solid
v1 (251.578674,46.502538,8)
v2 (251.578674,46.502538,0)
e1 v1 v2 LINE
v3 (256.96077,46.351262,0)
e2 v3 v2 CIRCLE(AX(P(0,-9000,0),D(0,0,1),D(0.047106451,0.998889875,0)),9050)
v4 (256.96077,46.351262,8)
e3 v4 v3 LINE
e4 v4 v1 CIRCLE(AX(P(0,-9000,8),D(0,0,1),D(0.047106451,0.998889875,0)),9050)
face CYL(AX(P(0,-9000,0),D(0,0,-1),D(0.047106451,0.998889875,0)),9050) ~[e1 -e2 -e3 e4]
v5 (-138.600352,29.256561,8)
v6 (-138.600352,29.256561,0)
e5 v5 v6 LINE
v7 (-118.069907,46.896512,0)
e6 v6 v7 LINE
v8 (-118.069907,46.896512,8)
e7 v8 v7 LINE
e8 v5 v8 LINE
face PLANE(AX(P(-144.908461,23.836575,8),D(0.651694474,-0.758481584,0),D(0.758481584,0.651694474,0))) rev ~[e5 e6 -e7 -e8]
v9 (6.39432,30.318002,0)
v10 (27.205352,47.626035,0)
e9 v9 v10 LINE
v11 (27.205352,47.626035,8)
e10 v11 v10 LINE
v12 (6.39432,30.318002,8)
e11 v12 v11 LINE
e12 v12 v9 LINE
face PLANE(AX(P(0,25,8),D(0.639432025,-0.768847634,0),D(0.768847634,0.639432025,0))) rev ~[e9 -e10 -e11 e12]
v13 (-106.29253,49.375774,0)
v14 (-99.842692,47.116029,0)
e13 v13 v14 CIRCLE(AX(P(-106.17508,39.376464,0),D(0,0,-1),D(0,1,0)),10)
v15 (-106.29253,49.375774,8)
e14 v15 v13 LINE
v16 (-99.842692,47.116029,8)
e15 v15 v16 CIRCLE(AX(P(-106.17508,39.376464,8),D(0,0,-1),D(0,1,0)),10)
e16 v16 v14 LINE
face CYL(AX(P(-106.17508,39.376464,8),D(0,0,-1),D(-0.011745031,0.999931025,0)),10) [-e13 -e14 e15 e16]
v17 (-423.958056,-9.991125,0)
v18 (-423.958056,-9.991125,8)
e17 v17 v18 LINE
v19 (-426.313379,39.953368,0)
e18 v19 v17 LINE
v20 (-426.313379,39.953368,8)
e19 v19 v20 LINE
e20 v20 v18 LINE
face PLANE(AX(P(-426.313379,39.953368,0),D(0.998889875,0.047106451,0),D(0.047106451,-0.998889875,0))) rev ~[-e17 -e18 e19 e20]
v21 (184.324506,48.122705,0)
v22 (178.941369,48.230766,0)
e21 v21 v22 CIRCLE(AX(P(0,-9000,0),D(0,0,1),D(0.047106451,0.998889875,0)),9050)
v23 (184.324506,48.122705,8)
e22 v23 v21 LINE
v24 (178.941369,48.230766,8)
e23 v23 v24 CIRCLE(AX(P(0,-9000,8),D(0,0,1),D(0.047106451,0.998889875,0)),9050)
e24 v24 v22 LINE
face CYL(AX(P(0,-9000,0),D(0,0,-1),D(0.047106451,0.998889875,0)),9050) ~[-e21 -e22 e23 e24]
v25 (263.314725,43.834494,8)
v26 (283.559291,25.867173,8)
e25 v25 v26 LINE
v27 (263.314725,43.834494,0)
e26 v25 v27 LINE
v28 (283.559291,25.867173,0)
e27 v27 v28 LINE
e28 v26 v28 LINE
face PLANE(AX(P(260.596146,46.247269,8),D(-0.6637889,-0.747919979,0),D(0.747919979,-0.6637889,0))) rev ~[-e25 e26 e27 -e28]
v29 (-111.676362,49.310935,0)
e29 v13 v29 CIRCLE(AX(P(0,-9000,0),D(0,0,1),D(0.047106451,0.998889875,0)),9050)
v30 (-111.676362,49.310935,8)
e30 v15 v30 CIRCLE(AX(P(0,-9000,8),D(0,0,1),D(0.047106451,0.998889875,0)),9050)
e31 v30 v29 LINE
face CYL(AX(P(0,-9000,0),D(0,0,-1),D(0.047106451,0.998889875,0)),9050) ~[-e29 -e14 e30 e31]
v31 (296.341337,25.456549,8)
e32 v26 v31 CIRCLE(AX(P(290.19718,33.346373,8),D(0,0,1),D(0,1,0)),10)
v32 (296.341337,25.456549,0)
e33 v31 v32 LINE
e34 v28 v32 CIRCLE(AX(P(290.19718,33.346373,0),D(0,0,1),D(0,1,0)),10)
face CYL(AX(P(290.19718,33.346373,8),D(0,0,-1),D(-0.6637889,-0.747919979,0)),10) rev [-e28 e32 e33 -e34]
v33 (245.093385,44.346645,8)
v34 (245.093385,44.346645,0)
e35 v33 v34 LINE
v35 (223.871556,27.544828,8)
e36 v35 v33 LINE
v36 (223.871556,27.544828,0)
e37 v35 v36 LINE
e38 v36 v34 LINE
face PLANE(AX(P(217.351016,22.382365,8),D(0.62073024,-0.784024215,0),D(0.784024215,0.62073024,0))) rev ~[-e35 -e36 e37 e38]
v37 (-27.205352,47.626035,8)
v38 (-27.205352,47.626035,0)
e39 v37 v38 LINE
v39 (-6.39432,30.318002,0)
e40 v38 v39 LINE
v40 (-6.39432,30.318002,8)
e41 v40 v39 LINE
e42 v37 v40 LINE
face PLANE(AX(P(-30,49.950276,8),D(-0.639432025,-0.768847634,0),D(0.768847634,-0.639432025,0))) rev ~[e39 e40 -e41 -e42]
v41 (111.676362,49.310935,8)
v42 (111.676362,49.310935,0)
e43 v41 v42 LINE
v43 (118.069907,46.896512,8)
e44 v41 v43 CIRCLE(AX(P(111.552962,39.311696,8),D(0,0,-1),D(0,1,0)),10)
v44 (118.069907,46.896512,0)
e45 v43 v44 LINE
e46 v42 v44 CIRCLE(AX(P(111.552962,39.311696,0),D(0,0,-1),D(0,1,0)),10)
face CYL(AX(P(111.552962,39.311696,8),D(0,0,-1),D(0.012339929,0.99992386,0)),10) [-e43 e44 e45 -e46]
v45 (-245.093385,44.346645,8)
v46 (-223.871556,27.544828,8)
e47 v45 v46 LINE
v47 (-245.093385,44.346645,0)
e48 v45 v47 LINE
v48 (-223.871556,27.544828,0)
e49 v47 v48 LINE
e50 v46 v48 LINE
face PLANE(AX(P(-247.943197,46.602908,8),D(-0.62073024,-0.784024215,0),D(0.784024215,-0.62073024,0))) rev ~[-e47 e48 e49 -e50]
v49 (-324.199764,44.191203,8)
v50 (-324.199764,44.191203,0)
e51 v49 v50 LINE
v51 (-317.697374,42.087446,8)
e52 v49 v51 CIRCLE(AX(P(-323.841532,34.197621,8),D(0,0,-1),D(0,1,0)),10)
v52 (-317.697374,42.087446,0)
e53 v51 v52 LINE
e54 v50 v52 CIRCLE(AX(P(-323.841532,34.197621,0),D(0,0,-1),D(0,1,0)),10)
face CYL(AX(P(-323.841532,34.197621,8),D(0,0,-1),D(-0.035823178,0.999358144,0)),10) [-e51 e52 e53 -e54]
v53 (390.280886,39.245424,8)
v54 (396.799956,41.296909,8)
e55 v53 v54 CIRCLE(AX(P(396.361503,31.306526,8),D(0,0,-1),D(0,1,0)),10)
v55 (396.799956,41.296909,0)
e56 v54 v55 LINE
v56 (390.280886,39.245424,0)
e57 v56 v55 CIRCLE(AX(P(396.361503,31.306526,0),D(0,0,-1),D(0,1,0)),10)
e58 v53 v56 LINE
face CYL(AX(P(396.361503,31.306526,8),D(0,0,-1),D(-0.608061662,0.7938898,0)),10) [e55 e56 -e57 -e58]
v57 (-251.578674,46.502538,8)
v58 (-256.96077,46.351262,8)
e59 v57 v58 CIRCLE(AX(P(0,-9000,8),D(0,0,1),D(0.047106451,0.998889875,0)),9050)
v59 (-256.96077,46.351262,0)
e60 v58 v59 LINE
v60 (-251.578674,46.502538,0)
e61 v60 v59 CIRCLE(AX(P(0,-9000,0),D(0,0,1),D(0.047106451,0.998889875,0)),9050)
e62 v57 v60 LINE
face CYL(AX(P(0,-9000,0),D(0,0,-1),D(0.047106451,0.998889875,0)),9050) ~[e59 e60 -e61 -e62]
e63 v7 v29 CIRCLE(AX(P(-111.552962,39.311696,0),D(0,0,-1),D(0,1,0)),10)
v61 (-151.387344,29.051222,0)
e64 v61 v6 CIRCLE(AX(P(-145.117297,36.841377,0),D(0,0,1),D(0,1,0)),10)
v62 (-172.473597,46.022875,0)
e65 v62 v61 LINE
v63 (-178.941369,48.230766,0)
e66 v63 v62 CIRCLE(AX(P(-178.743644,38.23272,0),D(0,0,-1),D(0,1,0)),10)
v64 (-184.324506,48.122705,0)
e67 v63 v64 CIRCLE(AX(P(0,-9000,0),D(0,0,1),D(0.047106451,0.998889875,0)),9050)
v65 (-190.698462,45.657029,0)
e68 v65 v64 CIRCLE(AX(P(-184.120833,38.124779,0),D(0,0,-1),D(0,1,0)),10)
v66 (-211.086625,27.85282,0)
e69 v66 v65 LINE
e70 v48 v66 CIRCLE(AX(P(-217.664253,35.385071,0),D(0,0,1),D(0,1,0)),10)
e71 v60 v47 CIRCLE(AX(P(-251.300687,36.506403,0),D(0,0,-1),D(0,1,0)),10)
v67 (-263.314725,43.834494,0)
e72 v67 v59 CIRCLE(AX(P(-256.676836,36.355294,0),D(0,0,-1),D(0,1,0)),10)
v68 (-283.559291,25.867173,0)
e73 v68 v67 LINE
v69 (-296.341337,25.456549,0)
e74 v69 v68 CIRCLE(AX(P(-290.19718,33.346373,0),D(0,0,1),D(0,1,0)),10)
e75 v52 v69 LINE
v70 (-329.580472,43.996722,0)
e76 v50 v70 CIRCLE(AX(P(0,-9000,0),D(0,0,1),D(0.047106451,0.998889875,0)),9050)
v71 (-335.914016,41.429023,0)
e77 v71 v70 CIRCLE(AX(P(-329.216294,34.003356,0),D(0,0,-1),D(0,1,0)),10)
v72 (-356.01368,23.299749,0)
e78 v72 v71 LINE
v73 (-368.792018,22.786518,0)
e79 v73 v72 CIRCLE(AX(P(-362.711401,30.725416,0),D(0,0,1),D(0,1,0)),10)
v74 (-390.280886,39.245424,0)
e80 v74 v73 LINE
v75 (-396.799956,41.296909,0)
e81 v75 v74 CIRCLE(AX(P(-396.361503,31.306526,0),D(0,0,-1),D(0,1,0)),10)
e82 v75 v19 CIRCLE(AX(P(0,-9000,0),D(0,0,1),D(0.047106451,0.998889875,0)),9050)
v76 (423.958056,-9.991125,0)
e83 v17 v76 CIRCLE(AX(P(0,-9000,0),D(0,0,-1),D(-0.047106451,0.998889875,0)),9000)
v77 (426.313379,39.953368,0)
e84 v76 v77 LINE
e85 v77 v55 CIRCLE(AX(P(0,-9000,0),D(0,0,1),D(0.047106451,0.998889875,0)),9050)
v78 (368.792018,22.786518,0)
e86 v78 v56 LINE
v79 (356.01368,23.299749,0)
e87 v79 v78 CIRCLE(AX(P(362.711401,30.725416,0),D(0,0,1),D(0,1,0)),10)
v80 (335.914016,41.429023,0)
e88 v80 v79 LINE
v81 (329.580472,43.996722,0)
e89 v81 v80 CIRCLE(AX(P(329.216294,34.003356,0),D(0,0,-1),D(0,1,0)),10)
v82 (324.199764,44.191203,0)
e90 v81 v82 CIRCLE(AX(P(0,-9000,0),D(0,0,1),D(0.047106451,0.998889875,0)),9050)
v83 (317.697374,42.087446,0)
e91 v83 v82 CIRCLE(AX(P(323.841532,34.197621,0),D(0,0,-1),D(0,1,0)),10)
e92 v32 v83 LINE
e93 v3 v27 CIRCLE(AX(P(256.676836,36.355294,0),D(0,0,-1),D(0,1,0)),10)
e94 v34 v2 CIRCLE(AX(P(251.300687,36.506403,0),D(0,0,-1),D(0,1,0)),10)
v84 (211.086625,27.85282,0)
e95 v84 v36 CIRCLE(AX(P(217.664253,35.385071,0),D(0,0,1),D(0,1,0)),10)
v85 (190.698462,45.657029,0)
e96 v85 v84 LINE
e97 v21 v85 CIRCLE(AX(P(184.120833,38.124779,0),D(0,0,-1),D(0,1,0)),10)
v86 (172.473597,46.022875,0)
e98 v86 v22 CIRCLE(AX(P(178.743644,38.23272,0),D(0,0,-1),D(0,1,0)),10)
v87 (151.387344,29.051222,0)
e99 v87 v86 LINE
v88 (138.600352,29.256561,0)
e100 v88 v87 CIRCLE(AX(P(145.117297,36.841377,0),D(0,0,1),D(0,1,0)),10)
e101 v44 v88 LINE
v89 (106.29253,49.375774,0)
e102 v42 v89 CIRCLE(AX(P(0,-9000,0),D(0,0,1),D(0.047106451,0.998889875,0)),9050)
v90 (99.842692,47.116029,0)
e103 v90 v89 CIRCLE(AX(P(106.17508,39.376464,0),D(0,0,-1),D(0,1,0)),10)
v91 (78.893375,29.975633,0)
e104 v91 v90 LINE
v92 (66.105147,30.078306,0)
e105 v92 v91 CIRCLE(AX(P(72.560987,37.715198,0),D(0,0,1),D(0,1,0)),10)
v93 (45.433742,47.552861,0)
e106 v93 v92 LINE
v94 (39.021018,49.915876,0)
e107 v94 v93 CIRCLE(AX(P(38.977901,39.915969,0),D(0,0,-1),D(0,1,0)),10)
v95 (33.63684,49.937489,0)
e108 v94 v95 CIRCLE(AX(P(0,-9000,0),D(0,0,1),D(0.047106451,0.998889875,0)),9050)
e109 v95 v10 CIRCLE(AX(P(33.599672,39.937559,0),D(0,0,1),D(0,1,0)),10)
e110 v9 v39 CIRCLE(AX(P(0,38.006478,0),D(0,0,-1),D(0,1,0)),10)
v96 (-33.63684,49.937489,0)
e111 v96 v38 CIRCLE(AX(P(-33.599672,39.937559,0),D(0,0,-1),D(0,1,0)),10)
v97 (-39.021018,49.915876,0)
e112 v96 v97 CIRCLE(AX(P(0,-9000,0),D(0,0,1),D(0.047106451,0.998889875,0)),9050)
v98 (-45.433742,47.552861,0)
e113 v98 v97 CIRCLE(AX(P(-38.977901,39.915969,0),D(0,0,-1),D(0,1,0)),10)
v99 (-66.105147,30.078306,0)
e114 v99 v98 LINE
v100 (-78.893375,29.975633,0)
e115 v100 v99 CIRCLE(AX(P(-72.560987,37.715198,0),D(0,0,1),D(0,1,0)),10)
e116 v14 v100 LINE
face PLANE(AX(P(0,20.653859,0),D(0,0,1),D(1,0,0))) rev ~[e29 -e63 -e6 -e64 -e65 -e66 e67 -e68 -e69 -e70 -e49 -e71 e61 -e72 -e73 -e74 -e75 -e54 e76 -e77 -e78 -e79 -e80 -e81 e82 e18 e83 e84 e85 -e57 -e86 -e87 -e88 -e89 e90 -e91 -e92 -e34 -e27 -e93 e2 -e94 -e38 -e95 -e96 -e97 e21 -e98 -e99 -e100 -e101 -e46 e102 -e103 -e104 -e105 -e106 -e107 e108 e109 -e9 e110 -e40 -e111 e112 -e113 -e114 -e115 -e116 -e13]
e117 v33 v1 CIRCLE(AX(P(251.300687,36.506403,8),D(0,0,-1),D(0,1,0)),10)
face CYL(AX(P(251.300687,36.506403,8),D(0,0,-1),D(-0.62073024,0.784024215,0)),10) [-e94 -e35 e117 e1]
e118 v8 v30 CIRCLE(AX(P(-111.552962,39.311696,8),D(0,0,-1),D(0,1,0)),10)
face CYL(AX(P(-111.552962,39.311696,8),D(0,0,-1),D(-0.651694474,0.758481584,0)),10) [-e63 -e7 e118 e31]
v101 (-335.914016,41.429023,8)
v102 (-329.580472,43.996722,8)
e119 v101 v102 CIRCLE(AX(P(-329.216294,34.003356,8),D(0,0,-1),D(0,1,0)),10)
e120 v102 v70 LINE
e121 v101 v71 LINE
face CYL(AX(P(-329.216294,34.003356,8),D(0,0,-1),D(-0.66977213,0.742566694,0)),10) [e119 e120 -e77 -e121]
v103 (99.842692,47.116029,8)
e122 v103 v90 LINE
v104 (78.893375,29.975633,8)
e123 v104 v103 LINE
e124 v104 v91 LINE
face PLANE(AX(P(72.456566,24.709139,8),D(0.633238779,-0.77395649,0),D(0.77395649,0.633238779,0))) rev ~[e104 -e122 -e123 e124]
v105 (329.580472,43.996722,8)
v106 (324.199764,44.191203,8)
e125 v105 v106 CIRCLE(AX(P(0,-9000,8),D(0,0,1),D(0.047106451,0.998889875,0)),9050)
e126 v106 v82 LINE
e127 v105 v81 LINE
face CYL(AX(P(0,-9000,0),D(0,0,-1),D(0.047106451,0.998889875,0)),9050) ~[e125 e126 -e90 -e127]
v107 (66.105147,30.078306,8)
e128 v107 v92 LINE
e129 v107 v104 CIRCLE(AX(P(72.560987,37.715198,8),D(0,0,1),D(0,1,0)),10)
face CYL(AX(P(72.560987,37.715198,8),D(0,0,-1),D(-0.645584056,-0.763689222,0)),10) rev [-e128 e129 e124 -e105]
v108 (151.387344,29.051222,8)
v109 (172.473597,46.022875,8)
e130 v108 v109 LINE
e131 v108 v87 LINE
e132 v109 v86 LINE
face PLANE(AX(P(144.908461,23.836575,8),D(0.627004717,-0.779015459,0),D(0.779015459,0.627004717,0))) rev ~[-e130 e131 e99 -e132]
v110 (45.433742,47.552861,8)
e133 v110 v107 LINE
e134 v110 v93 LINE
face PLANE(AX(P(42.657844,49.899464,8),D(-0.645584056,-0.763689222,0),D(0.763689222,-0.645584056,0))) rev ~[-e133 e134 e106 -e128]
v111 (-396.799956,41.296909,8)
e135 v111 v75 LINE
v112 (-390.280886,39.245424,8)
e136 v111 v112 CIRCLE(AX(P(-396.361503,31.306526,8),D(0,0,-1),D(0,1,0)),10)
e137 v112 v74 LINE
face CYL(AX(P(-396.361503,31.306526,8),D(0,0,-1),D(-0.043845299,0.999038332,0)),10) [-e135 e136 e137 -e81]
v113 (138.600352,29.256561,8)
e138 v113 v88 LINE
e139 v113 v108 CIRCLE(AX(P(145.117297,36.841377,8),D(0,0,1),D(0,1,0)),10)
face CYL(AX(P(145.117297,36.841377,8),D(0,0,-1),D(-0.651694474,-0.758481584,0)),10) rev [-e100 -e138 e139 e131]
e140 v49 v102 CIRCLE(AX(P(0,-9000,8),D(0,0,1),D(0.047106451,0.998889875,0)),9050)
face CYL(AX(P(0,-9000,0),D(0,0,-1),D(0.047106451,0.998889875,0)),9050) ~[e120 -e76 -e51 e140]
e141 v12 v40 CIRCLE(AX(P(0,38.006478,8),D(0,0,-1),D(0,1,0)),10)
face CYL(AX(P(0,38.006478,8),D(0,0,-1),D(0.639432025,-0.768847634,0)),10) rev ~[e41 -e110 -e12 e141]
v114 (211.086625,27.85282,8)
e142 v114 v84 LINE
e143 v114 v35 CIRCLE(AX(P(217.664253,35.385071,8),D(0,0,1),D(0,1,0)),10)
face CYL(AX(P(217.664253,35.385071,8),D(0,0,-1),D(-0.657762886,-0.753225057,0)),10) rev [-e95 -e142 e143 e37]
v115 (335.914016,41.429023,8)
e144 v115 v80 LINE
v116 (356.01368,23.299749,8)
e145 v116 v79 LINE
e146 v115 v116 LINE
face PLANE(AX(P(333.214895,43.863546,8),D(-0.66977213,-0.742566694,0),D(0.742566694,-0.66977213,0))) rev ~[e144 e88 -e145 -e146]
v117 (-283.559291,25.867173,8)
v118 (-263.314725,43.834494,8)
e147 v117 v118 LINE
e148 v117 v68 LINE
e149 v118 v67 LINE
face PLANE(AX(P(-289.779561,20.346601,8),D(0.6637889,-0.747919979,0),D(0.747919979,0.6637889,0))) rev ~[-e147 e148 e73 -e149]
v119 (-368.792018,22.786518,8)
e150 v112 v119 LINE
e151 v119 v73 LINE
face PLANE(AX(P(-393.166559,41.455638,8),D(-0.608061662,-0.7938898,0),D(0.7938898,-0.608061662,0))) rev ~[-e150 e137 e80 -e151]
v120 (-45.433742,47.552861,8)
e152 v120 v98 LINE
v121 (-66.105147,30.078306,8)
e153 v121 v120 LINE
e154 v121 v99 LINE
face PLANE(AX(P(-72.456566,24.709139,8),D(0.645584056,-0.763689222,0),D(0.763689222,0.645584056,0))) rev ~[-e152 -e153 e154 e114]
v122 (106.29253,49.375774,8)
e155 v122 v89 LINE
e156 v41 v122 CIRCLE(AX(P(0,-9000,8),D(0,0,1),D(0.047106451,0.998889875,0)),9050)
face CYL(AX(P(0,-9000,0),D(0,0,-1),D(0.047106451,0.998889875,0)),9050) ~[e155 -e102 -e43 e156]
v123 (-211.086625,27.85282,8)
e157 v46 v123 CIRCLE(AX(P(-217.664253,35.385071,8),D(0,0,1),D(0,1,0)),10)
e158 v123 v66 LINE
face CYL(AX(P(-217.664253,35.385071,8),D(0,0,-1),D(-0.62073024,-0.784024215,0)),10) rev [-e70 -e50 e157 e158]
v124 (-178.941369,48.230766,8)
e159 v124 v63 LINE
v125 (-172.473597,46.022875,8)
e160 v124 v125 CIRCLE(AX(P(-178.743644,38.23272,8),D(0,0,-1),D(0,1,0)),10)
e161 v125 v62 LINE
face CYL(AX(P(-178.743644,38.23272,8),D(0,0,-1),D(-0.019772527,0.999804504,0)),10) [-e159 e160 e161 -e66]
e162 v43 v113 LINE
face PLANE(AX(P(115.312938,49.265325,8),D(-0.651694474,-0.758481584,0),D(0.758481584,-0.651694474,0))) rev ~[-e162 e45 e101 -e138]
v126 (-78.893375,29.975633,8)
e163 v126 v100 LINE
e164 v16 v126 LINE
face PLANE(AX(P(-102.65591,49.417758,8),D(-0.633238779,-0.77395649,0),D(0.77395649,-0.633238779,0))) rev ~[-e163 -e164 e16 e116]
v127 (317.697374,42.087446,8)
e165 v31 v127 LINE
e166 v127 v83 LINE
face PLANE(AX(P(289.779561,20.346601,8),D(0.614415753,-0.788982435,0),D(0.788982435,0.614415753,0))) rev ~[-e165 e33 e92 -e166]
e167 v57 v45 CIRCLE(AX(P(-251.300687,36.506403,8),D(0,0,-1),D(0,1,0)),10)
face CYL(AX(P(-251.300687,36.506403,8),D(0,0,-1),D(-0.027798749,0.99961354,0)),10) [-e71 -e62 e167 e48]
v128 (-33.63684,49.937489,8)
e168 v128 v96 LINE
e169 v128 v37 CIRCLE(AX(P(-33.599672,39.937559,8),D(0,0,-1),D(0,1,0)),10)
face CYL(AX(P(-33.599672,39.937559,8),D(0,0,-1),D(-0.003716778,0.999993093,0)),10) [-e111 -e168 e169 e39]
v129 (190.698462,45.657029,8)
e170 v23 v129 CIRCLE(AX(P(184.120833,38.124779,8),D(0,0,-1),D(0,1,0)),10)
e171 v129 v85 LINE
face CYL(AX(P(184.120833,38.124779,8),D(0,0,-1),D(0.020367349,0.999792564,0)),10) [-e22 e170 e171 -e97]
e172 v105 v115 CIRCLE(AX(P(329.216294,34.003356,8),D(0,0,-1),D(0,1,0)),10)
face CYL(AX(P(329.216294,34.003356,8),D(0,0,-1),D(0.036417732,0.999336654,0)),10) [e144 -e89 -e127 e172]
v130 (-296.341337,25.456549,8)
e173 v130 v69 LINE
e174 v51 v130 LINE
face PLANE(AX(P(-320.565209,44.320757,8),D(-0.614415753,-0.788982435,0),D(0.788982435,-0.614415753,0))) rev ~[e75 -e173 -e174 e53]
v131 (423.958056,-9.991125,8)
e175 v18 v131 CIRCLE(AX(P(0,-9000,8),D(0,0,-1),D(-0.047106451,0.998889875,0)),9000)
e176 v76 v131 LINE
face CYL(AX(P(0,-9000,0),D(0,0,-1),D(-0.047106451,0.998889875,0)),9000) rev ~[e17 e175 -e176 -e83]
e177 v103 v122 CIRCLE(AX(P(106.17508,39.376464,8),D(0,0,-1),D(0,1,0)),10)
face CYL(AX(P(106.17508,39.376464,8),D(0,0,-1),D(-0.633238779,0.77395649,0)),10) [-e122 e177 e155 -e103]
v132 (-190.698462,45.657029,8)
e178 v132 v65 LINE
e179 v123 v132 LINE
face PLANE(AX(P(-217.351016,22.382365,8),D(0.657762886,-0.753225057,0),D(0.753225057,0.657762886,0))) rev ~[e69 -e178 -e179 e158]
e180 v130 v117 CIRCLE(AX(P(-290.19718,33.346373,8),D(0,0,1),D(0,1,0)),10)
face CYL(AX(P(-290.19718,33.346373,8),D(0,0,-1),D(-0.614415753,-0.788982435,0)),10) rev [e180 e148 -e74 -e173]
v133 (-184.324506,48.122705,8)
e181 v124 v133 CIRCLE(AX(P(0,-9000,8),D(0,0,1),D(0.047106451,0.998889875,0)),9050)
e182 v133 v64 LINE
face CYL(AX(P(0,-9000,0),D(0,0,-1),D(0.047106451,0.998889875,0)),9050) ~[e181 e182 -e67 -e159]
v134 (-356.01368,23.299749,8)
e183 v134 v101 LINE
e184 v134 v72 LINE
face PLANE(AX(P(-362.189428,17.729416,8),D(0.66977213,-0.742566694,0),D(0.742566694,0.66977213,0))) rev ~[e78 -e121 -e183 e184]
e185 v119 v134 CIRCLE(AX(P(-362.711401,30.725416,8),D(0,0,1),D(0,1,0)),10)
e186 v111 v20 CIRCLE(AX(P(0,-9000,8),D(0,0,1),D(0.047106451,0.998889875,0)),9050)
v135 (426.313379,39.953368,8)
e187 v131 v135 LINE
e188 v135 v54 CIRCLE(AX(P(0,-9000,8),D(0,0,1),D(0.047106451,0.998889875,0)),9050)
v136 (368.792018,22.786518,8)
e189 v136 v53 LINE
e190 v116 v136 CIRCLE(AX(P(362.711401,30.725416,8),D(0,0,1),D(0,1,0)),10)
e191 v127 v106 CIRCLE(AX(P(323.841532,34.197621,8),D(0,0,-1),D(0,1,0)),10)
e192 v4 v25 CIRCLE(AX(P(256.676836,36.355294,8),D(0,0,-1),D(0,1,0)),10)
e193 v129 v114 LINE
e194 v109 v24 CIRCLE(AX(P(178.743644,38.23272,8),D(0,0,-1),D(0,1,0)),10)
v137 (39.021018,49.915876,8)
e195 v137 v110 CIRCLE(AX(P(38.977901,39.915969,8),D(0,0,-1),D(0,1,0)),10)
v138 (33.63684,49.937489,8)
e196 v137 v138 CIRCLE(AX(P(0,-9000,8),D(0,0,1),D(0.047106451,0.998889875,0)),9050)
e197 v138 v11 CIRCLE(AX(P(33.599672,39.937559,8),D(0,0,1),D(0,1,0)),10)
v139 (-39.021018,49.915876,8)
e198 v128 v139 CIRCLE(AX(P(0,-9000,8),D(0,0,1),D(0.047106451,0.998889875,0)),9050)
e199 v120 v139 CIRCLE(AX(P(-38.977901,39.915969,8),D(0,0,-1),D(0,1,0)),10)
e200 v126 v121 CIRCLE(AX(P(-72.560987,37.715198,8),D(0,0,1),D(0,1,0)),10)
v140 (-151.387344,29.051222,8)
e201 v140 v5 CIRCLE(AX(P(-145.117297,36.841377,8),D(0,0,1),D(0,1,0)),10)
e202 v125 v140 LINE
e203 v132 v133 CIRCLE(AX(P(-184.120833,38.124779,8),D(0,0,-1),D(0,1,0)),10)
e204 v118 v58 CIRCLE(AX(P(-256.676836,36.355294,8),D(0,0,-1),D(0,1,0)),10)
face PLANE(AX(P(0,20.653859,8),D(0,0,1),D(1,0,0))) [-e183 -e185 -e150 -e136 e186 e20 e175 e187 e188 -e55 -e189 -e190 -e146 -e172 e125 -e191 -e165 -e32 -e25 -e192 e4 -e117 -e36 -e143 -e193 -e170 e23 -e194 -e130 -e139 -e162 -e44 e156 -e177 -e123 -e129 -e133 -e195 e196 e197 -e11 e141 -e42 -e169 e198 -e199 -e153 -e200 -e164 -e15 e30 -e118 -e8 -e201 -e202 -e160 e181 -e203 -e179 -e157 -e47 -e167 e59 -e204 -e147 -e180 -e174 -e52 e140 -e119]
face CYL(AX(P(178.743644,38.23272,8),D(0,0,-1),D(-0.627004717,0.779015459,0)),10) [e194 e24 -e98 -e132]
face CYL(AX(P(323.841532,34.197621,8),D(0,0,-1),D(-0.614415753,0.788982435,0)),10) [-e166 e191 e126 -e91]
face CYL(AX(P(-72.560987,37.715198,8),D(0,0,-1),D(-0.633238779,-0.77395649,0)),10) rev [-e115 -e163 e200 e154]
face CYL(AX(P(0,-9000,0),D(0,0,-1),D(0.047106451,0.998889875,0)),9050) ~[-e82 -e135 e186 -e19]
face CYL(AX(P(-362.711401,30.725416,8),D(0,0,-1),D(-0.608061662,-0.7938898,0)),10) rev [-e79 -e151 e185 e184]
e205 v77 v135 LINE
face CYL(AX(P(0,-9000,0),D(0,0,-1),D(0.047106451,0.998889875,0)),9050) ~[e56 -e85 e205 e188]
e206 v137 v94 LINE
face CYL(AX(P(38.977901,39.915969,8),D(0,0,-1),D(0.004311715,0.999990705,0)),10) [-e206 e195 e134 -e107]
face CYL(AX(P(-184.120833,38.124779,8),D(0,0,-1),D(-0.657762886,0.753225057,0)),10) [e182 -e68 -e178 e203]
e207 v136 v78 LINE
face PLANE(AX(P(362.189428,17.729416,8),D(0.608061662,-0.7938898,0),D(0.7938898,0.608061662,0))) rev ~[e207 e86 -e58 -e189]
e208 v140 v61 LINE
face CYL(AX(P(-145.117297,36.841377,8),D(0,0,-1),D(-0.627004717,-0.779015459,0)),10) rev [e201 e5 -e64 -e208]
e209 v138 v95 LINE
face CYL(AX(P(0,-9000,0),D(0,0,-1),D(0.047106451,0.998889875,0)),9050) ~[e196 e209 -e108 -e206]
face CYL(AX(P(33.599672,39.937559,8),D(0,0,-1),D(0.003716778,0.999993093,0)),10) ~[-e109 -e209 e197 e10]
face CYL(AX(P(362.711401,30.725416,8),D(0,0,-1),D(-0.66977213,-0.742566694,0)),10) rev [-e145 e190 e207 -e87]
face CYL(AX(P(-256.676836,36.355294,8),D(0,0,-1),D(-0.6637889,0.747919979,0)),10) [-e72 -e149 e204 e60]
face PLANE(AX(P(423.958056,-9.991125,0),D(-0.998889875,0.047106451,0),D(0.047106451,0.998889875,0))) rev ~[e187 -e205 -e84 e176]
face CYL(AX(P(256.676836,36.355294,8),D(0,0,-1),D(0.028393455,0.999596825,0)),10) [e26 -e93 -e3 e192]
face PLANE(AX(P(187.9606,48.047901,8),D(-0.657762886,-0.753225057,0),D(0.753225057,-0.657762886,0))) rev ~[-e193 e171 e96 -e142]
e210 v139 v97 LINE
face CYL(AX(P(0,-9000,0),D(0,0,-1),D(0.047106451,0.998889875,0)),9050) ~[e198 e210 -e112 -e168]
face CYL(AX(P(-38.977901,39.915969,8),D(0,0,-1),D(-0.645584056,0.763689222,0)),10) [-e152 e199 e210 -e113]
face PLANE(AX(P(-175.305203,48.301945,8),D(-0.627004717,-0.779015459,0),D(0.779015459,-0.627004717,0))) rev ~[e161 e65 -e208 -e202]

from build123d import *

# Parameters (mm, degrees)
BOSS_EXTRU_2_DEPTH                 = 8
ENL_V_MAT_EXTRU_1_DEPTH            = 9
CONG_1_R                           = 10
R_P_TITION_CIRCULAIRE1_COUNT       = 6
R_P_TITION_CIRCULAIRE1_ANGLE       = 2.3
CONG_1_OF_R_P_TITION_CIRCULAIRE1_R = 10
R_P_TITION_CIRCULAIRE2_COUNT       = 6
R_P_TITION_CIRCULAIRE2_ANGLE       = 2.3
CONG_1_OF_R_P_TITION_CIRCULAIRE2_R = 10


with BuildPart() as part:
    # Esquisse1 → Boss.-Extru.2 (new body)
    with BuildSketch(Plane.XY):
        with BuildLine():
            Line((423.958056387, -9.991125342), (426.313378922, 39.953368406))
            ThreePointArc((426.313378922, 39.953368406), (0, 50), (-426.313378922, 39.953368406))
            Line((-426.313378922, 39.953368406), (-423.958056387, -9.991125342))
            ThreePointArc((-423.958056387, -9.991125342), (0, 0), (423.958056387, -9.991125342))
        make_face()
    extrude(amount=BOSS_EXTRU_2_DEPTH)

    # Esquisse2 → Enlèv. mat.-Extru.1 (cut, through all)
    with BuildSketch(Plane.XY.offset(8)):
        Polygon((0, 25), (30, 49.950276106), (0, 74.995327729), (-30, 49.950276106), align=None)
    enl_v_mat_extru_1 = extrude(amount=-ENL_V_MAT_EXTRU_1_DEPTH, mode=Mode.SUBTRACT)

    # Congé1
    cong_1_edges = [part.edges().sort_by_distance(p)[0] for p in [
        (0, 25, 4),
        (-30, 49.950276106, 4),
        (30, 49.950276106, 4),
    ]]
    fillet(cong_1_edges, radius=CONG_1_R)

    # Répétition circulaire1: Enlèv. mat.-Extru.1 ×6 about axis
    r_p_tition_circulaire1_axis = Axis((0, -9000, 0), (0, 0, 1))
    for i in range(1, R_P_TITION_CIRCULAIRE1_COUNT):
        add(enl_v_mat_extru_1.rotate(r_p_tition_circulaire1_axis, i * R_P_TITION_CIRCULAIRE1_ANGLE / (R_P_TITION_CIRCULAIRE1_COUNT - 1)), mode=Mode.SUBTRACT)

    # Congé1 of Répétition circulaire1
    cong_1_of_r_p_tition_circulaire1_edges = [part.edges().sort_by_distance(p)[0] for p in [
        (-72.456565501, 24.709139142, 4),
        (-102.655910154, 49.417758293, 4),
        (-42.657843855, 49.899463992, 4),
        (-144.908460692, 23.836575317, 4),
        (-175.305203447, 48.301944876, 4),
        (-115.312938126, 49.265325224, 4),
        (-217.351015561, 22.382364766, 4),
        (-247.943197144, 46.602907776, 4),
        (-187.960599706, 48.047900678, 4),
        (-289.779560701, 20.346601223, 4),
        (-320.565209242, 44.320756509, 4),
        (-260.596145965, 46.247268824, 4),
        (-362.189427606, 17.729415908, 4),
        (-393.166558764, 41.455638174, 4),
        (-333.214895057, 43.863545726, 4),
    ]]
    fillet(cong_1_of_r_p_tition_circulaire1_edges, radius=CONG_1_OF_R_P_TITION_CIRCULAIRE1_R)

    # Répétition circulaire2: Enlèv. mat.-Extru.1 ×6 about axis
    r_p_tition_circulaire2_axis = Axis((0, -9000, 0), (0, 0, -1))
    for i in range(1, R_P_TITION_CIRCULAIRE2_COUNT):
        add(enl_v_mat_extru_1.rotate(r_p_tition_circulaire2_axis, i * R_P_TITION_CIRCULAIRE2_ANGLE / (R_P_TITION_CIRCULAIRE2_COUNT - 1)), mode=Mode.SUBTRACT)

    # Congé1 of Répétition circulaire2
    cong_1_of_r_p_tition_circulaire2_edges = [part.edges().sort_by_distance(p)[0] for p in [
        (72.456565501, 24.709139142, 4),
        (42.657843855, 49.899463992, 4),
        (102.655910154, 49.417758293, 4),
        (144.908460692, 23.836575317, 4),
        (115.312938126, 49.265325224, 4),
        (175.305203447, 48.301944876, 4),
        (217.351015561, 22.382364766, 4),
        (187.960599706, 48.047900678, 4),
        (247.943197144, 46.602907776, 4),
        (289.779560701, 20.346601223, 4),
        (260.596145965, 46.247268824, 4),
        (320.565209242, 44.320756509, 4),
        (362.189427606, 17.729415908, 4),
        (333.214895057, 43.863545726, 4),
        (393.166558764, 41.455638174, 4),
    ]]
    fillet(cong_1_of_r_p_tition_circulaire2_edges, radius=CONG_1_OF_R_P_TITION_CIRCULAIRE2_R)


solid = part.part
